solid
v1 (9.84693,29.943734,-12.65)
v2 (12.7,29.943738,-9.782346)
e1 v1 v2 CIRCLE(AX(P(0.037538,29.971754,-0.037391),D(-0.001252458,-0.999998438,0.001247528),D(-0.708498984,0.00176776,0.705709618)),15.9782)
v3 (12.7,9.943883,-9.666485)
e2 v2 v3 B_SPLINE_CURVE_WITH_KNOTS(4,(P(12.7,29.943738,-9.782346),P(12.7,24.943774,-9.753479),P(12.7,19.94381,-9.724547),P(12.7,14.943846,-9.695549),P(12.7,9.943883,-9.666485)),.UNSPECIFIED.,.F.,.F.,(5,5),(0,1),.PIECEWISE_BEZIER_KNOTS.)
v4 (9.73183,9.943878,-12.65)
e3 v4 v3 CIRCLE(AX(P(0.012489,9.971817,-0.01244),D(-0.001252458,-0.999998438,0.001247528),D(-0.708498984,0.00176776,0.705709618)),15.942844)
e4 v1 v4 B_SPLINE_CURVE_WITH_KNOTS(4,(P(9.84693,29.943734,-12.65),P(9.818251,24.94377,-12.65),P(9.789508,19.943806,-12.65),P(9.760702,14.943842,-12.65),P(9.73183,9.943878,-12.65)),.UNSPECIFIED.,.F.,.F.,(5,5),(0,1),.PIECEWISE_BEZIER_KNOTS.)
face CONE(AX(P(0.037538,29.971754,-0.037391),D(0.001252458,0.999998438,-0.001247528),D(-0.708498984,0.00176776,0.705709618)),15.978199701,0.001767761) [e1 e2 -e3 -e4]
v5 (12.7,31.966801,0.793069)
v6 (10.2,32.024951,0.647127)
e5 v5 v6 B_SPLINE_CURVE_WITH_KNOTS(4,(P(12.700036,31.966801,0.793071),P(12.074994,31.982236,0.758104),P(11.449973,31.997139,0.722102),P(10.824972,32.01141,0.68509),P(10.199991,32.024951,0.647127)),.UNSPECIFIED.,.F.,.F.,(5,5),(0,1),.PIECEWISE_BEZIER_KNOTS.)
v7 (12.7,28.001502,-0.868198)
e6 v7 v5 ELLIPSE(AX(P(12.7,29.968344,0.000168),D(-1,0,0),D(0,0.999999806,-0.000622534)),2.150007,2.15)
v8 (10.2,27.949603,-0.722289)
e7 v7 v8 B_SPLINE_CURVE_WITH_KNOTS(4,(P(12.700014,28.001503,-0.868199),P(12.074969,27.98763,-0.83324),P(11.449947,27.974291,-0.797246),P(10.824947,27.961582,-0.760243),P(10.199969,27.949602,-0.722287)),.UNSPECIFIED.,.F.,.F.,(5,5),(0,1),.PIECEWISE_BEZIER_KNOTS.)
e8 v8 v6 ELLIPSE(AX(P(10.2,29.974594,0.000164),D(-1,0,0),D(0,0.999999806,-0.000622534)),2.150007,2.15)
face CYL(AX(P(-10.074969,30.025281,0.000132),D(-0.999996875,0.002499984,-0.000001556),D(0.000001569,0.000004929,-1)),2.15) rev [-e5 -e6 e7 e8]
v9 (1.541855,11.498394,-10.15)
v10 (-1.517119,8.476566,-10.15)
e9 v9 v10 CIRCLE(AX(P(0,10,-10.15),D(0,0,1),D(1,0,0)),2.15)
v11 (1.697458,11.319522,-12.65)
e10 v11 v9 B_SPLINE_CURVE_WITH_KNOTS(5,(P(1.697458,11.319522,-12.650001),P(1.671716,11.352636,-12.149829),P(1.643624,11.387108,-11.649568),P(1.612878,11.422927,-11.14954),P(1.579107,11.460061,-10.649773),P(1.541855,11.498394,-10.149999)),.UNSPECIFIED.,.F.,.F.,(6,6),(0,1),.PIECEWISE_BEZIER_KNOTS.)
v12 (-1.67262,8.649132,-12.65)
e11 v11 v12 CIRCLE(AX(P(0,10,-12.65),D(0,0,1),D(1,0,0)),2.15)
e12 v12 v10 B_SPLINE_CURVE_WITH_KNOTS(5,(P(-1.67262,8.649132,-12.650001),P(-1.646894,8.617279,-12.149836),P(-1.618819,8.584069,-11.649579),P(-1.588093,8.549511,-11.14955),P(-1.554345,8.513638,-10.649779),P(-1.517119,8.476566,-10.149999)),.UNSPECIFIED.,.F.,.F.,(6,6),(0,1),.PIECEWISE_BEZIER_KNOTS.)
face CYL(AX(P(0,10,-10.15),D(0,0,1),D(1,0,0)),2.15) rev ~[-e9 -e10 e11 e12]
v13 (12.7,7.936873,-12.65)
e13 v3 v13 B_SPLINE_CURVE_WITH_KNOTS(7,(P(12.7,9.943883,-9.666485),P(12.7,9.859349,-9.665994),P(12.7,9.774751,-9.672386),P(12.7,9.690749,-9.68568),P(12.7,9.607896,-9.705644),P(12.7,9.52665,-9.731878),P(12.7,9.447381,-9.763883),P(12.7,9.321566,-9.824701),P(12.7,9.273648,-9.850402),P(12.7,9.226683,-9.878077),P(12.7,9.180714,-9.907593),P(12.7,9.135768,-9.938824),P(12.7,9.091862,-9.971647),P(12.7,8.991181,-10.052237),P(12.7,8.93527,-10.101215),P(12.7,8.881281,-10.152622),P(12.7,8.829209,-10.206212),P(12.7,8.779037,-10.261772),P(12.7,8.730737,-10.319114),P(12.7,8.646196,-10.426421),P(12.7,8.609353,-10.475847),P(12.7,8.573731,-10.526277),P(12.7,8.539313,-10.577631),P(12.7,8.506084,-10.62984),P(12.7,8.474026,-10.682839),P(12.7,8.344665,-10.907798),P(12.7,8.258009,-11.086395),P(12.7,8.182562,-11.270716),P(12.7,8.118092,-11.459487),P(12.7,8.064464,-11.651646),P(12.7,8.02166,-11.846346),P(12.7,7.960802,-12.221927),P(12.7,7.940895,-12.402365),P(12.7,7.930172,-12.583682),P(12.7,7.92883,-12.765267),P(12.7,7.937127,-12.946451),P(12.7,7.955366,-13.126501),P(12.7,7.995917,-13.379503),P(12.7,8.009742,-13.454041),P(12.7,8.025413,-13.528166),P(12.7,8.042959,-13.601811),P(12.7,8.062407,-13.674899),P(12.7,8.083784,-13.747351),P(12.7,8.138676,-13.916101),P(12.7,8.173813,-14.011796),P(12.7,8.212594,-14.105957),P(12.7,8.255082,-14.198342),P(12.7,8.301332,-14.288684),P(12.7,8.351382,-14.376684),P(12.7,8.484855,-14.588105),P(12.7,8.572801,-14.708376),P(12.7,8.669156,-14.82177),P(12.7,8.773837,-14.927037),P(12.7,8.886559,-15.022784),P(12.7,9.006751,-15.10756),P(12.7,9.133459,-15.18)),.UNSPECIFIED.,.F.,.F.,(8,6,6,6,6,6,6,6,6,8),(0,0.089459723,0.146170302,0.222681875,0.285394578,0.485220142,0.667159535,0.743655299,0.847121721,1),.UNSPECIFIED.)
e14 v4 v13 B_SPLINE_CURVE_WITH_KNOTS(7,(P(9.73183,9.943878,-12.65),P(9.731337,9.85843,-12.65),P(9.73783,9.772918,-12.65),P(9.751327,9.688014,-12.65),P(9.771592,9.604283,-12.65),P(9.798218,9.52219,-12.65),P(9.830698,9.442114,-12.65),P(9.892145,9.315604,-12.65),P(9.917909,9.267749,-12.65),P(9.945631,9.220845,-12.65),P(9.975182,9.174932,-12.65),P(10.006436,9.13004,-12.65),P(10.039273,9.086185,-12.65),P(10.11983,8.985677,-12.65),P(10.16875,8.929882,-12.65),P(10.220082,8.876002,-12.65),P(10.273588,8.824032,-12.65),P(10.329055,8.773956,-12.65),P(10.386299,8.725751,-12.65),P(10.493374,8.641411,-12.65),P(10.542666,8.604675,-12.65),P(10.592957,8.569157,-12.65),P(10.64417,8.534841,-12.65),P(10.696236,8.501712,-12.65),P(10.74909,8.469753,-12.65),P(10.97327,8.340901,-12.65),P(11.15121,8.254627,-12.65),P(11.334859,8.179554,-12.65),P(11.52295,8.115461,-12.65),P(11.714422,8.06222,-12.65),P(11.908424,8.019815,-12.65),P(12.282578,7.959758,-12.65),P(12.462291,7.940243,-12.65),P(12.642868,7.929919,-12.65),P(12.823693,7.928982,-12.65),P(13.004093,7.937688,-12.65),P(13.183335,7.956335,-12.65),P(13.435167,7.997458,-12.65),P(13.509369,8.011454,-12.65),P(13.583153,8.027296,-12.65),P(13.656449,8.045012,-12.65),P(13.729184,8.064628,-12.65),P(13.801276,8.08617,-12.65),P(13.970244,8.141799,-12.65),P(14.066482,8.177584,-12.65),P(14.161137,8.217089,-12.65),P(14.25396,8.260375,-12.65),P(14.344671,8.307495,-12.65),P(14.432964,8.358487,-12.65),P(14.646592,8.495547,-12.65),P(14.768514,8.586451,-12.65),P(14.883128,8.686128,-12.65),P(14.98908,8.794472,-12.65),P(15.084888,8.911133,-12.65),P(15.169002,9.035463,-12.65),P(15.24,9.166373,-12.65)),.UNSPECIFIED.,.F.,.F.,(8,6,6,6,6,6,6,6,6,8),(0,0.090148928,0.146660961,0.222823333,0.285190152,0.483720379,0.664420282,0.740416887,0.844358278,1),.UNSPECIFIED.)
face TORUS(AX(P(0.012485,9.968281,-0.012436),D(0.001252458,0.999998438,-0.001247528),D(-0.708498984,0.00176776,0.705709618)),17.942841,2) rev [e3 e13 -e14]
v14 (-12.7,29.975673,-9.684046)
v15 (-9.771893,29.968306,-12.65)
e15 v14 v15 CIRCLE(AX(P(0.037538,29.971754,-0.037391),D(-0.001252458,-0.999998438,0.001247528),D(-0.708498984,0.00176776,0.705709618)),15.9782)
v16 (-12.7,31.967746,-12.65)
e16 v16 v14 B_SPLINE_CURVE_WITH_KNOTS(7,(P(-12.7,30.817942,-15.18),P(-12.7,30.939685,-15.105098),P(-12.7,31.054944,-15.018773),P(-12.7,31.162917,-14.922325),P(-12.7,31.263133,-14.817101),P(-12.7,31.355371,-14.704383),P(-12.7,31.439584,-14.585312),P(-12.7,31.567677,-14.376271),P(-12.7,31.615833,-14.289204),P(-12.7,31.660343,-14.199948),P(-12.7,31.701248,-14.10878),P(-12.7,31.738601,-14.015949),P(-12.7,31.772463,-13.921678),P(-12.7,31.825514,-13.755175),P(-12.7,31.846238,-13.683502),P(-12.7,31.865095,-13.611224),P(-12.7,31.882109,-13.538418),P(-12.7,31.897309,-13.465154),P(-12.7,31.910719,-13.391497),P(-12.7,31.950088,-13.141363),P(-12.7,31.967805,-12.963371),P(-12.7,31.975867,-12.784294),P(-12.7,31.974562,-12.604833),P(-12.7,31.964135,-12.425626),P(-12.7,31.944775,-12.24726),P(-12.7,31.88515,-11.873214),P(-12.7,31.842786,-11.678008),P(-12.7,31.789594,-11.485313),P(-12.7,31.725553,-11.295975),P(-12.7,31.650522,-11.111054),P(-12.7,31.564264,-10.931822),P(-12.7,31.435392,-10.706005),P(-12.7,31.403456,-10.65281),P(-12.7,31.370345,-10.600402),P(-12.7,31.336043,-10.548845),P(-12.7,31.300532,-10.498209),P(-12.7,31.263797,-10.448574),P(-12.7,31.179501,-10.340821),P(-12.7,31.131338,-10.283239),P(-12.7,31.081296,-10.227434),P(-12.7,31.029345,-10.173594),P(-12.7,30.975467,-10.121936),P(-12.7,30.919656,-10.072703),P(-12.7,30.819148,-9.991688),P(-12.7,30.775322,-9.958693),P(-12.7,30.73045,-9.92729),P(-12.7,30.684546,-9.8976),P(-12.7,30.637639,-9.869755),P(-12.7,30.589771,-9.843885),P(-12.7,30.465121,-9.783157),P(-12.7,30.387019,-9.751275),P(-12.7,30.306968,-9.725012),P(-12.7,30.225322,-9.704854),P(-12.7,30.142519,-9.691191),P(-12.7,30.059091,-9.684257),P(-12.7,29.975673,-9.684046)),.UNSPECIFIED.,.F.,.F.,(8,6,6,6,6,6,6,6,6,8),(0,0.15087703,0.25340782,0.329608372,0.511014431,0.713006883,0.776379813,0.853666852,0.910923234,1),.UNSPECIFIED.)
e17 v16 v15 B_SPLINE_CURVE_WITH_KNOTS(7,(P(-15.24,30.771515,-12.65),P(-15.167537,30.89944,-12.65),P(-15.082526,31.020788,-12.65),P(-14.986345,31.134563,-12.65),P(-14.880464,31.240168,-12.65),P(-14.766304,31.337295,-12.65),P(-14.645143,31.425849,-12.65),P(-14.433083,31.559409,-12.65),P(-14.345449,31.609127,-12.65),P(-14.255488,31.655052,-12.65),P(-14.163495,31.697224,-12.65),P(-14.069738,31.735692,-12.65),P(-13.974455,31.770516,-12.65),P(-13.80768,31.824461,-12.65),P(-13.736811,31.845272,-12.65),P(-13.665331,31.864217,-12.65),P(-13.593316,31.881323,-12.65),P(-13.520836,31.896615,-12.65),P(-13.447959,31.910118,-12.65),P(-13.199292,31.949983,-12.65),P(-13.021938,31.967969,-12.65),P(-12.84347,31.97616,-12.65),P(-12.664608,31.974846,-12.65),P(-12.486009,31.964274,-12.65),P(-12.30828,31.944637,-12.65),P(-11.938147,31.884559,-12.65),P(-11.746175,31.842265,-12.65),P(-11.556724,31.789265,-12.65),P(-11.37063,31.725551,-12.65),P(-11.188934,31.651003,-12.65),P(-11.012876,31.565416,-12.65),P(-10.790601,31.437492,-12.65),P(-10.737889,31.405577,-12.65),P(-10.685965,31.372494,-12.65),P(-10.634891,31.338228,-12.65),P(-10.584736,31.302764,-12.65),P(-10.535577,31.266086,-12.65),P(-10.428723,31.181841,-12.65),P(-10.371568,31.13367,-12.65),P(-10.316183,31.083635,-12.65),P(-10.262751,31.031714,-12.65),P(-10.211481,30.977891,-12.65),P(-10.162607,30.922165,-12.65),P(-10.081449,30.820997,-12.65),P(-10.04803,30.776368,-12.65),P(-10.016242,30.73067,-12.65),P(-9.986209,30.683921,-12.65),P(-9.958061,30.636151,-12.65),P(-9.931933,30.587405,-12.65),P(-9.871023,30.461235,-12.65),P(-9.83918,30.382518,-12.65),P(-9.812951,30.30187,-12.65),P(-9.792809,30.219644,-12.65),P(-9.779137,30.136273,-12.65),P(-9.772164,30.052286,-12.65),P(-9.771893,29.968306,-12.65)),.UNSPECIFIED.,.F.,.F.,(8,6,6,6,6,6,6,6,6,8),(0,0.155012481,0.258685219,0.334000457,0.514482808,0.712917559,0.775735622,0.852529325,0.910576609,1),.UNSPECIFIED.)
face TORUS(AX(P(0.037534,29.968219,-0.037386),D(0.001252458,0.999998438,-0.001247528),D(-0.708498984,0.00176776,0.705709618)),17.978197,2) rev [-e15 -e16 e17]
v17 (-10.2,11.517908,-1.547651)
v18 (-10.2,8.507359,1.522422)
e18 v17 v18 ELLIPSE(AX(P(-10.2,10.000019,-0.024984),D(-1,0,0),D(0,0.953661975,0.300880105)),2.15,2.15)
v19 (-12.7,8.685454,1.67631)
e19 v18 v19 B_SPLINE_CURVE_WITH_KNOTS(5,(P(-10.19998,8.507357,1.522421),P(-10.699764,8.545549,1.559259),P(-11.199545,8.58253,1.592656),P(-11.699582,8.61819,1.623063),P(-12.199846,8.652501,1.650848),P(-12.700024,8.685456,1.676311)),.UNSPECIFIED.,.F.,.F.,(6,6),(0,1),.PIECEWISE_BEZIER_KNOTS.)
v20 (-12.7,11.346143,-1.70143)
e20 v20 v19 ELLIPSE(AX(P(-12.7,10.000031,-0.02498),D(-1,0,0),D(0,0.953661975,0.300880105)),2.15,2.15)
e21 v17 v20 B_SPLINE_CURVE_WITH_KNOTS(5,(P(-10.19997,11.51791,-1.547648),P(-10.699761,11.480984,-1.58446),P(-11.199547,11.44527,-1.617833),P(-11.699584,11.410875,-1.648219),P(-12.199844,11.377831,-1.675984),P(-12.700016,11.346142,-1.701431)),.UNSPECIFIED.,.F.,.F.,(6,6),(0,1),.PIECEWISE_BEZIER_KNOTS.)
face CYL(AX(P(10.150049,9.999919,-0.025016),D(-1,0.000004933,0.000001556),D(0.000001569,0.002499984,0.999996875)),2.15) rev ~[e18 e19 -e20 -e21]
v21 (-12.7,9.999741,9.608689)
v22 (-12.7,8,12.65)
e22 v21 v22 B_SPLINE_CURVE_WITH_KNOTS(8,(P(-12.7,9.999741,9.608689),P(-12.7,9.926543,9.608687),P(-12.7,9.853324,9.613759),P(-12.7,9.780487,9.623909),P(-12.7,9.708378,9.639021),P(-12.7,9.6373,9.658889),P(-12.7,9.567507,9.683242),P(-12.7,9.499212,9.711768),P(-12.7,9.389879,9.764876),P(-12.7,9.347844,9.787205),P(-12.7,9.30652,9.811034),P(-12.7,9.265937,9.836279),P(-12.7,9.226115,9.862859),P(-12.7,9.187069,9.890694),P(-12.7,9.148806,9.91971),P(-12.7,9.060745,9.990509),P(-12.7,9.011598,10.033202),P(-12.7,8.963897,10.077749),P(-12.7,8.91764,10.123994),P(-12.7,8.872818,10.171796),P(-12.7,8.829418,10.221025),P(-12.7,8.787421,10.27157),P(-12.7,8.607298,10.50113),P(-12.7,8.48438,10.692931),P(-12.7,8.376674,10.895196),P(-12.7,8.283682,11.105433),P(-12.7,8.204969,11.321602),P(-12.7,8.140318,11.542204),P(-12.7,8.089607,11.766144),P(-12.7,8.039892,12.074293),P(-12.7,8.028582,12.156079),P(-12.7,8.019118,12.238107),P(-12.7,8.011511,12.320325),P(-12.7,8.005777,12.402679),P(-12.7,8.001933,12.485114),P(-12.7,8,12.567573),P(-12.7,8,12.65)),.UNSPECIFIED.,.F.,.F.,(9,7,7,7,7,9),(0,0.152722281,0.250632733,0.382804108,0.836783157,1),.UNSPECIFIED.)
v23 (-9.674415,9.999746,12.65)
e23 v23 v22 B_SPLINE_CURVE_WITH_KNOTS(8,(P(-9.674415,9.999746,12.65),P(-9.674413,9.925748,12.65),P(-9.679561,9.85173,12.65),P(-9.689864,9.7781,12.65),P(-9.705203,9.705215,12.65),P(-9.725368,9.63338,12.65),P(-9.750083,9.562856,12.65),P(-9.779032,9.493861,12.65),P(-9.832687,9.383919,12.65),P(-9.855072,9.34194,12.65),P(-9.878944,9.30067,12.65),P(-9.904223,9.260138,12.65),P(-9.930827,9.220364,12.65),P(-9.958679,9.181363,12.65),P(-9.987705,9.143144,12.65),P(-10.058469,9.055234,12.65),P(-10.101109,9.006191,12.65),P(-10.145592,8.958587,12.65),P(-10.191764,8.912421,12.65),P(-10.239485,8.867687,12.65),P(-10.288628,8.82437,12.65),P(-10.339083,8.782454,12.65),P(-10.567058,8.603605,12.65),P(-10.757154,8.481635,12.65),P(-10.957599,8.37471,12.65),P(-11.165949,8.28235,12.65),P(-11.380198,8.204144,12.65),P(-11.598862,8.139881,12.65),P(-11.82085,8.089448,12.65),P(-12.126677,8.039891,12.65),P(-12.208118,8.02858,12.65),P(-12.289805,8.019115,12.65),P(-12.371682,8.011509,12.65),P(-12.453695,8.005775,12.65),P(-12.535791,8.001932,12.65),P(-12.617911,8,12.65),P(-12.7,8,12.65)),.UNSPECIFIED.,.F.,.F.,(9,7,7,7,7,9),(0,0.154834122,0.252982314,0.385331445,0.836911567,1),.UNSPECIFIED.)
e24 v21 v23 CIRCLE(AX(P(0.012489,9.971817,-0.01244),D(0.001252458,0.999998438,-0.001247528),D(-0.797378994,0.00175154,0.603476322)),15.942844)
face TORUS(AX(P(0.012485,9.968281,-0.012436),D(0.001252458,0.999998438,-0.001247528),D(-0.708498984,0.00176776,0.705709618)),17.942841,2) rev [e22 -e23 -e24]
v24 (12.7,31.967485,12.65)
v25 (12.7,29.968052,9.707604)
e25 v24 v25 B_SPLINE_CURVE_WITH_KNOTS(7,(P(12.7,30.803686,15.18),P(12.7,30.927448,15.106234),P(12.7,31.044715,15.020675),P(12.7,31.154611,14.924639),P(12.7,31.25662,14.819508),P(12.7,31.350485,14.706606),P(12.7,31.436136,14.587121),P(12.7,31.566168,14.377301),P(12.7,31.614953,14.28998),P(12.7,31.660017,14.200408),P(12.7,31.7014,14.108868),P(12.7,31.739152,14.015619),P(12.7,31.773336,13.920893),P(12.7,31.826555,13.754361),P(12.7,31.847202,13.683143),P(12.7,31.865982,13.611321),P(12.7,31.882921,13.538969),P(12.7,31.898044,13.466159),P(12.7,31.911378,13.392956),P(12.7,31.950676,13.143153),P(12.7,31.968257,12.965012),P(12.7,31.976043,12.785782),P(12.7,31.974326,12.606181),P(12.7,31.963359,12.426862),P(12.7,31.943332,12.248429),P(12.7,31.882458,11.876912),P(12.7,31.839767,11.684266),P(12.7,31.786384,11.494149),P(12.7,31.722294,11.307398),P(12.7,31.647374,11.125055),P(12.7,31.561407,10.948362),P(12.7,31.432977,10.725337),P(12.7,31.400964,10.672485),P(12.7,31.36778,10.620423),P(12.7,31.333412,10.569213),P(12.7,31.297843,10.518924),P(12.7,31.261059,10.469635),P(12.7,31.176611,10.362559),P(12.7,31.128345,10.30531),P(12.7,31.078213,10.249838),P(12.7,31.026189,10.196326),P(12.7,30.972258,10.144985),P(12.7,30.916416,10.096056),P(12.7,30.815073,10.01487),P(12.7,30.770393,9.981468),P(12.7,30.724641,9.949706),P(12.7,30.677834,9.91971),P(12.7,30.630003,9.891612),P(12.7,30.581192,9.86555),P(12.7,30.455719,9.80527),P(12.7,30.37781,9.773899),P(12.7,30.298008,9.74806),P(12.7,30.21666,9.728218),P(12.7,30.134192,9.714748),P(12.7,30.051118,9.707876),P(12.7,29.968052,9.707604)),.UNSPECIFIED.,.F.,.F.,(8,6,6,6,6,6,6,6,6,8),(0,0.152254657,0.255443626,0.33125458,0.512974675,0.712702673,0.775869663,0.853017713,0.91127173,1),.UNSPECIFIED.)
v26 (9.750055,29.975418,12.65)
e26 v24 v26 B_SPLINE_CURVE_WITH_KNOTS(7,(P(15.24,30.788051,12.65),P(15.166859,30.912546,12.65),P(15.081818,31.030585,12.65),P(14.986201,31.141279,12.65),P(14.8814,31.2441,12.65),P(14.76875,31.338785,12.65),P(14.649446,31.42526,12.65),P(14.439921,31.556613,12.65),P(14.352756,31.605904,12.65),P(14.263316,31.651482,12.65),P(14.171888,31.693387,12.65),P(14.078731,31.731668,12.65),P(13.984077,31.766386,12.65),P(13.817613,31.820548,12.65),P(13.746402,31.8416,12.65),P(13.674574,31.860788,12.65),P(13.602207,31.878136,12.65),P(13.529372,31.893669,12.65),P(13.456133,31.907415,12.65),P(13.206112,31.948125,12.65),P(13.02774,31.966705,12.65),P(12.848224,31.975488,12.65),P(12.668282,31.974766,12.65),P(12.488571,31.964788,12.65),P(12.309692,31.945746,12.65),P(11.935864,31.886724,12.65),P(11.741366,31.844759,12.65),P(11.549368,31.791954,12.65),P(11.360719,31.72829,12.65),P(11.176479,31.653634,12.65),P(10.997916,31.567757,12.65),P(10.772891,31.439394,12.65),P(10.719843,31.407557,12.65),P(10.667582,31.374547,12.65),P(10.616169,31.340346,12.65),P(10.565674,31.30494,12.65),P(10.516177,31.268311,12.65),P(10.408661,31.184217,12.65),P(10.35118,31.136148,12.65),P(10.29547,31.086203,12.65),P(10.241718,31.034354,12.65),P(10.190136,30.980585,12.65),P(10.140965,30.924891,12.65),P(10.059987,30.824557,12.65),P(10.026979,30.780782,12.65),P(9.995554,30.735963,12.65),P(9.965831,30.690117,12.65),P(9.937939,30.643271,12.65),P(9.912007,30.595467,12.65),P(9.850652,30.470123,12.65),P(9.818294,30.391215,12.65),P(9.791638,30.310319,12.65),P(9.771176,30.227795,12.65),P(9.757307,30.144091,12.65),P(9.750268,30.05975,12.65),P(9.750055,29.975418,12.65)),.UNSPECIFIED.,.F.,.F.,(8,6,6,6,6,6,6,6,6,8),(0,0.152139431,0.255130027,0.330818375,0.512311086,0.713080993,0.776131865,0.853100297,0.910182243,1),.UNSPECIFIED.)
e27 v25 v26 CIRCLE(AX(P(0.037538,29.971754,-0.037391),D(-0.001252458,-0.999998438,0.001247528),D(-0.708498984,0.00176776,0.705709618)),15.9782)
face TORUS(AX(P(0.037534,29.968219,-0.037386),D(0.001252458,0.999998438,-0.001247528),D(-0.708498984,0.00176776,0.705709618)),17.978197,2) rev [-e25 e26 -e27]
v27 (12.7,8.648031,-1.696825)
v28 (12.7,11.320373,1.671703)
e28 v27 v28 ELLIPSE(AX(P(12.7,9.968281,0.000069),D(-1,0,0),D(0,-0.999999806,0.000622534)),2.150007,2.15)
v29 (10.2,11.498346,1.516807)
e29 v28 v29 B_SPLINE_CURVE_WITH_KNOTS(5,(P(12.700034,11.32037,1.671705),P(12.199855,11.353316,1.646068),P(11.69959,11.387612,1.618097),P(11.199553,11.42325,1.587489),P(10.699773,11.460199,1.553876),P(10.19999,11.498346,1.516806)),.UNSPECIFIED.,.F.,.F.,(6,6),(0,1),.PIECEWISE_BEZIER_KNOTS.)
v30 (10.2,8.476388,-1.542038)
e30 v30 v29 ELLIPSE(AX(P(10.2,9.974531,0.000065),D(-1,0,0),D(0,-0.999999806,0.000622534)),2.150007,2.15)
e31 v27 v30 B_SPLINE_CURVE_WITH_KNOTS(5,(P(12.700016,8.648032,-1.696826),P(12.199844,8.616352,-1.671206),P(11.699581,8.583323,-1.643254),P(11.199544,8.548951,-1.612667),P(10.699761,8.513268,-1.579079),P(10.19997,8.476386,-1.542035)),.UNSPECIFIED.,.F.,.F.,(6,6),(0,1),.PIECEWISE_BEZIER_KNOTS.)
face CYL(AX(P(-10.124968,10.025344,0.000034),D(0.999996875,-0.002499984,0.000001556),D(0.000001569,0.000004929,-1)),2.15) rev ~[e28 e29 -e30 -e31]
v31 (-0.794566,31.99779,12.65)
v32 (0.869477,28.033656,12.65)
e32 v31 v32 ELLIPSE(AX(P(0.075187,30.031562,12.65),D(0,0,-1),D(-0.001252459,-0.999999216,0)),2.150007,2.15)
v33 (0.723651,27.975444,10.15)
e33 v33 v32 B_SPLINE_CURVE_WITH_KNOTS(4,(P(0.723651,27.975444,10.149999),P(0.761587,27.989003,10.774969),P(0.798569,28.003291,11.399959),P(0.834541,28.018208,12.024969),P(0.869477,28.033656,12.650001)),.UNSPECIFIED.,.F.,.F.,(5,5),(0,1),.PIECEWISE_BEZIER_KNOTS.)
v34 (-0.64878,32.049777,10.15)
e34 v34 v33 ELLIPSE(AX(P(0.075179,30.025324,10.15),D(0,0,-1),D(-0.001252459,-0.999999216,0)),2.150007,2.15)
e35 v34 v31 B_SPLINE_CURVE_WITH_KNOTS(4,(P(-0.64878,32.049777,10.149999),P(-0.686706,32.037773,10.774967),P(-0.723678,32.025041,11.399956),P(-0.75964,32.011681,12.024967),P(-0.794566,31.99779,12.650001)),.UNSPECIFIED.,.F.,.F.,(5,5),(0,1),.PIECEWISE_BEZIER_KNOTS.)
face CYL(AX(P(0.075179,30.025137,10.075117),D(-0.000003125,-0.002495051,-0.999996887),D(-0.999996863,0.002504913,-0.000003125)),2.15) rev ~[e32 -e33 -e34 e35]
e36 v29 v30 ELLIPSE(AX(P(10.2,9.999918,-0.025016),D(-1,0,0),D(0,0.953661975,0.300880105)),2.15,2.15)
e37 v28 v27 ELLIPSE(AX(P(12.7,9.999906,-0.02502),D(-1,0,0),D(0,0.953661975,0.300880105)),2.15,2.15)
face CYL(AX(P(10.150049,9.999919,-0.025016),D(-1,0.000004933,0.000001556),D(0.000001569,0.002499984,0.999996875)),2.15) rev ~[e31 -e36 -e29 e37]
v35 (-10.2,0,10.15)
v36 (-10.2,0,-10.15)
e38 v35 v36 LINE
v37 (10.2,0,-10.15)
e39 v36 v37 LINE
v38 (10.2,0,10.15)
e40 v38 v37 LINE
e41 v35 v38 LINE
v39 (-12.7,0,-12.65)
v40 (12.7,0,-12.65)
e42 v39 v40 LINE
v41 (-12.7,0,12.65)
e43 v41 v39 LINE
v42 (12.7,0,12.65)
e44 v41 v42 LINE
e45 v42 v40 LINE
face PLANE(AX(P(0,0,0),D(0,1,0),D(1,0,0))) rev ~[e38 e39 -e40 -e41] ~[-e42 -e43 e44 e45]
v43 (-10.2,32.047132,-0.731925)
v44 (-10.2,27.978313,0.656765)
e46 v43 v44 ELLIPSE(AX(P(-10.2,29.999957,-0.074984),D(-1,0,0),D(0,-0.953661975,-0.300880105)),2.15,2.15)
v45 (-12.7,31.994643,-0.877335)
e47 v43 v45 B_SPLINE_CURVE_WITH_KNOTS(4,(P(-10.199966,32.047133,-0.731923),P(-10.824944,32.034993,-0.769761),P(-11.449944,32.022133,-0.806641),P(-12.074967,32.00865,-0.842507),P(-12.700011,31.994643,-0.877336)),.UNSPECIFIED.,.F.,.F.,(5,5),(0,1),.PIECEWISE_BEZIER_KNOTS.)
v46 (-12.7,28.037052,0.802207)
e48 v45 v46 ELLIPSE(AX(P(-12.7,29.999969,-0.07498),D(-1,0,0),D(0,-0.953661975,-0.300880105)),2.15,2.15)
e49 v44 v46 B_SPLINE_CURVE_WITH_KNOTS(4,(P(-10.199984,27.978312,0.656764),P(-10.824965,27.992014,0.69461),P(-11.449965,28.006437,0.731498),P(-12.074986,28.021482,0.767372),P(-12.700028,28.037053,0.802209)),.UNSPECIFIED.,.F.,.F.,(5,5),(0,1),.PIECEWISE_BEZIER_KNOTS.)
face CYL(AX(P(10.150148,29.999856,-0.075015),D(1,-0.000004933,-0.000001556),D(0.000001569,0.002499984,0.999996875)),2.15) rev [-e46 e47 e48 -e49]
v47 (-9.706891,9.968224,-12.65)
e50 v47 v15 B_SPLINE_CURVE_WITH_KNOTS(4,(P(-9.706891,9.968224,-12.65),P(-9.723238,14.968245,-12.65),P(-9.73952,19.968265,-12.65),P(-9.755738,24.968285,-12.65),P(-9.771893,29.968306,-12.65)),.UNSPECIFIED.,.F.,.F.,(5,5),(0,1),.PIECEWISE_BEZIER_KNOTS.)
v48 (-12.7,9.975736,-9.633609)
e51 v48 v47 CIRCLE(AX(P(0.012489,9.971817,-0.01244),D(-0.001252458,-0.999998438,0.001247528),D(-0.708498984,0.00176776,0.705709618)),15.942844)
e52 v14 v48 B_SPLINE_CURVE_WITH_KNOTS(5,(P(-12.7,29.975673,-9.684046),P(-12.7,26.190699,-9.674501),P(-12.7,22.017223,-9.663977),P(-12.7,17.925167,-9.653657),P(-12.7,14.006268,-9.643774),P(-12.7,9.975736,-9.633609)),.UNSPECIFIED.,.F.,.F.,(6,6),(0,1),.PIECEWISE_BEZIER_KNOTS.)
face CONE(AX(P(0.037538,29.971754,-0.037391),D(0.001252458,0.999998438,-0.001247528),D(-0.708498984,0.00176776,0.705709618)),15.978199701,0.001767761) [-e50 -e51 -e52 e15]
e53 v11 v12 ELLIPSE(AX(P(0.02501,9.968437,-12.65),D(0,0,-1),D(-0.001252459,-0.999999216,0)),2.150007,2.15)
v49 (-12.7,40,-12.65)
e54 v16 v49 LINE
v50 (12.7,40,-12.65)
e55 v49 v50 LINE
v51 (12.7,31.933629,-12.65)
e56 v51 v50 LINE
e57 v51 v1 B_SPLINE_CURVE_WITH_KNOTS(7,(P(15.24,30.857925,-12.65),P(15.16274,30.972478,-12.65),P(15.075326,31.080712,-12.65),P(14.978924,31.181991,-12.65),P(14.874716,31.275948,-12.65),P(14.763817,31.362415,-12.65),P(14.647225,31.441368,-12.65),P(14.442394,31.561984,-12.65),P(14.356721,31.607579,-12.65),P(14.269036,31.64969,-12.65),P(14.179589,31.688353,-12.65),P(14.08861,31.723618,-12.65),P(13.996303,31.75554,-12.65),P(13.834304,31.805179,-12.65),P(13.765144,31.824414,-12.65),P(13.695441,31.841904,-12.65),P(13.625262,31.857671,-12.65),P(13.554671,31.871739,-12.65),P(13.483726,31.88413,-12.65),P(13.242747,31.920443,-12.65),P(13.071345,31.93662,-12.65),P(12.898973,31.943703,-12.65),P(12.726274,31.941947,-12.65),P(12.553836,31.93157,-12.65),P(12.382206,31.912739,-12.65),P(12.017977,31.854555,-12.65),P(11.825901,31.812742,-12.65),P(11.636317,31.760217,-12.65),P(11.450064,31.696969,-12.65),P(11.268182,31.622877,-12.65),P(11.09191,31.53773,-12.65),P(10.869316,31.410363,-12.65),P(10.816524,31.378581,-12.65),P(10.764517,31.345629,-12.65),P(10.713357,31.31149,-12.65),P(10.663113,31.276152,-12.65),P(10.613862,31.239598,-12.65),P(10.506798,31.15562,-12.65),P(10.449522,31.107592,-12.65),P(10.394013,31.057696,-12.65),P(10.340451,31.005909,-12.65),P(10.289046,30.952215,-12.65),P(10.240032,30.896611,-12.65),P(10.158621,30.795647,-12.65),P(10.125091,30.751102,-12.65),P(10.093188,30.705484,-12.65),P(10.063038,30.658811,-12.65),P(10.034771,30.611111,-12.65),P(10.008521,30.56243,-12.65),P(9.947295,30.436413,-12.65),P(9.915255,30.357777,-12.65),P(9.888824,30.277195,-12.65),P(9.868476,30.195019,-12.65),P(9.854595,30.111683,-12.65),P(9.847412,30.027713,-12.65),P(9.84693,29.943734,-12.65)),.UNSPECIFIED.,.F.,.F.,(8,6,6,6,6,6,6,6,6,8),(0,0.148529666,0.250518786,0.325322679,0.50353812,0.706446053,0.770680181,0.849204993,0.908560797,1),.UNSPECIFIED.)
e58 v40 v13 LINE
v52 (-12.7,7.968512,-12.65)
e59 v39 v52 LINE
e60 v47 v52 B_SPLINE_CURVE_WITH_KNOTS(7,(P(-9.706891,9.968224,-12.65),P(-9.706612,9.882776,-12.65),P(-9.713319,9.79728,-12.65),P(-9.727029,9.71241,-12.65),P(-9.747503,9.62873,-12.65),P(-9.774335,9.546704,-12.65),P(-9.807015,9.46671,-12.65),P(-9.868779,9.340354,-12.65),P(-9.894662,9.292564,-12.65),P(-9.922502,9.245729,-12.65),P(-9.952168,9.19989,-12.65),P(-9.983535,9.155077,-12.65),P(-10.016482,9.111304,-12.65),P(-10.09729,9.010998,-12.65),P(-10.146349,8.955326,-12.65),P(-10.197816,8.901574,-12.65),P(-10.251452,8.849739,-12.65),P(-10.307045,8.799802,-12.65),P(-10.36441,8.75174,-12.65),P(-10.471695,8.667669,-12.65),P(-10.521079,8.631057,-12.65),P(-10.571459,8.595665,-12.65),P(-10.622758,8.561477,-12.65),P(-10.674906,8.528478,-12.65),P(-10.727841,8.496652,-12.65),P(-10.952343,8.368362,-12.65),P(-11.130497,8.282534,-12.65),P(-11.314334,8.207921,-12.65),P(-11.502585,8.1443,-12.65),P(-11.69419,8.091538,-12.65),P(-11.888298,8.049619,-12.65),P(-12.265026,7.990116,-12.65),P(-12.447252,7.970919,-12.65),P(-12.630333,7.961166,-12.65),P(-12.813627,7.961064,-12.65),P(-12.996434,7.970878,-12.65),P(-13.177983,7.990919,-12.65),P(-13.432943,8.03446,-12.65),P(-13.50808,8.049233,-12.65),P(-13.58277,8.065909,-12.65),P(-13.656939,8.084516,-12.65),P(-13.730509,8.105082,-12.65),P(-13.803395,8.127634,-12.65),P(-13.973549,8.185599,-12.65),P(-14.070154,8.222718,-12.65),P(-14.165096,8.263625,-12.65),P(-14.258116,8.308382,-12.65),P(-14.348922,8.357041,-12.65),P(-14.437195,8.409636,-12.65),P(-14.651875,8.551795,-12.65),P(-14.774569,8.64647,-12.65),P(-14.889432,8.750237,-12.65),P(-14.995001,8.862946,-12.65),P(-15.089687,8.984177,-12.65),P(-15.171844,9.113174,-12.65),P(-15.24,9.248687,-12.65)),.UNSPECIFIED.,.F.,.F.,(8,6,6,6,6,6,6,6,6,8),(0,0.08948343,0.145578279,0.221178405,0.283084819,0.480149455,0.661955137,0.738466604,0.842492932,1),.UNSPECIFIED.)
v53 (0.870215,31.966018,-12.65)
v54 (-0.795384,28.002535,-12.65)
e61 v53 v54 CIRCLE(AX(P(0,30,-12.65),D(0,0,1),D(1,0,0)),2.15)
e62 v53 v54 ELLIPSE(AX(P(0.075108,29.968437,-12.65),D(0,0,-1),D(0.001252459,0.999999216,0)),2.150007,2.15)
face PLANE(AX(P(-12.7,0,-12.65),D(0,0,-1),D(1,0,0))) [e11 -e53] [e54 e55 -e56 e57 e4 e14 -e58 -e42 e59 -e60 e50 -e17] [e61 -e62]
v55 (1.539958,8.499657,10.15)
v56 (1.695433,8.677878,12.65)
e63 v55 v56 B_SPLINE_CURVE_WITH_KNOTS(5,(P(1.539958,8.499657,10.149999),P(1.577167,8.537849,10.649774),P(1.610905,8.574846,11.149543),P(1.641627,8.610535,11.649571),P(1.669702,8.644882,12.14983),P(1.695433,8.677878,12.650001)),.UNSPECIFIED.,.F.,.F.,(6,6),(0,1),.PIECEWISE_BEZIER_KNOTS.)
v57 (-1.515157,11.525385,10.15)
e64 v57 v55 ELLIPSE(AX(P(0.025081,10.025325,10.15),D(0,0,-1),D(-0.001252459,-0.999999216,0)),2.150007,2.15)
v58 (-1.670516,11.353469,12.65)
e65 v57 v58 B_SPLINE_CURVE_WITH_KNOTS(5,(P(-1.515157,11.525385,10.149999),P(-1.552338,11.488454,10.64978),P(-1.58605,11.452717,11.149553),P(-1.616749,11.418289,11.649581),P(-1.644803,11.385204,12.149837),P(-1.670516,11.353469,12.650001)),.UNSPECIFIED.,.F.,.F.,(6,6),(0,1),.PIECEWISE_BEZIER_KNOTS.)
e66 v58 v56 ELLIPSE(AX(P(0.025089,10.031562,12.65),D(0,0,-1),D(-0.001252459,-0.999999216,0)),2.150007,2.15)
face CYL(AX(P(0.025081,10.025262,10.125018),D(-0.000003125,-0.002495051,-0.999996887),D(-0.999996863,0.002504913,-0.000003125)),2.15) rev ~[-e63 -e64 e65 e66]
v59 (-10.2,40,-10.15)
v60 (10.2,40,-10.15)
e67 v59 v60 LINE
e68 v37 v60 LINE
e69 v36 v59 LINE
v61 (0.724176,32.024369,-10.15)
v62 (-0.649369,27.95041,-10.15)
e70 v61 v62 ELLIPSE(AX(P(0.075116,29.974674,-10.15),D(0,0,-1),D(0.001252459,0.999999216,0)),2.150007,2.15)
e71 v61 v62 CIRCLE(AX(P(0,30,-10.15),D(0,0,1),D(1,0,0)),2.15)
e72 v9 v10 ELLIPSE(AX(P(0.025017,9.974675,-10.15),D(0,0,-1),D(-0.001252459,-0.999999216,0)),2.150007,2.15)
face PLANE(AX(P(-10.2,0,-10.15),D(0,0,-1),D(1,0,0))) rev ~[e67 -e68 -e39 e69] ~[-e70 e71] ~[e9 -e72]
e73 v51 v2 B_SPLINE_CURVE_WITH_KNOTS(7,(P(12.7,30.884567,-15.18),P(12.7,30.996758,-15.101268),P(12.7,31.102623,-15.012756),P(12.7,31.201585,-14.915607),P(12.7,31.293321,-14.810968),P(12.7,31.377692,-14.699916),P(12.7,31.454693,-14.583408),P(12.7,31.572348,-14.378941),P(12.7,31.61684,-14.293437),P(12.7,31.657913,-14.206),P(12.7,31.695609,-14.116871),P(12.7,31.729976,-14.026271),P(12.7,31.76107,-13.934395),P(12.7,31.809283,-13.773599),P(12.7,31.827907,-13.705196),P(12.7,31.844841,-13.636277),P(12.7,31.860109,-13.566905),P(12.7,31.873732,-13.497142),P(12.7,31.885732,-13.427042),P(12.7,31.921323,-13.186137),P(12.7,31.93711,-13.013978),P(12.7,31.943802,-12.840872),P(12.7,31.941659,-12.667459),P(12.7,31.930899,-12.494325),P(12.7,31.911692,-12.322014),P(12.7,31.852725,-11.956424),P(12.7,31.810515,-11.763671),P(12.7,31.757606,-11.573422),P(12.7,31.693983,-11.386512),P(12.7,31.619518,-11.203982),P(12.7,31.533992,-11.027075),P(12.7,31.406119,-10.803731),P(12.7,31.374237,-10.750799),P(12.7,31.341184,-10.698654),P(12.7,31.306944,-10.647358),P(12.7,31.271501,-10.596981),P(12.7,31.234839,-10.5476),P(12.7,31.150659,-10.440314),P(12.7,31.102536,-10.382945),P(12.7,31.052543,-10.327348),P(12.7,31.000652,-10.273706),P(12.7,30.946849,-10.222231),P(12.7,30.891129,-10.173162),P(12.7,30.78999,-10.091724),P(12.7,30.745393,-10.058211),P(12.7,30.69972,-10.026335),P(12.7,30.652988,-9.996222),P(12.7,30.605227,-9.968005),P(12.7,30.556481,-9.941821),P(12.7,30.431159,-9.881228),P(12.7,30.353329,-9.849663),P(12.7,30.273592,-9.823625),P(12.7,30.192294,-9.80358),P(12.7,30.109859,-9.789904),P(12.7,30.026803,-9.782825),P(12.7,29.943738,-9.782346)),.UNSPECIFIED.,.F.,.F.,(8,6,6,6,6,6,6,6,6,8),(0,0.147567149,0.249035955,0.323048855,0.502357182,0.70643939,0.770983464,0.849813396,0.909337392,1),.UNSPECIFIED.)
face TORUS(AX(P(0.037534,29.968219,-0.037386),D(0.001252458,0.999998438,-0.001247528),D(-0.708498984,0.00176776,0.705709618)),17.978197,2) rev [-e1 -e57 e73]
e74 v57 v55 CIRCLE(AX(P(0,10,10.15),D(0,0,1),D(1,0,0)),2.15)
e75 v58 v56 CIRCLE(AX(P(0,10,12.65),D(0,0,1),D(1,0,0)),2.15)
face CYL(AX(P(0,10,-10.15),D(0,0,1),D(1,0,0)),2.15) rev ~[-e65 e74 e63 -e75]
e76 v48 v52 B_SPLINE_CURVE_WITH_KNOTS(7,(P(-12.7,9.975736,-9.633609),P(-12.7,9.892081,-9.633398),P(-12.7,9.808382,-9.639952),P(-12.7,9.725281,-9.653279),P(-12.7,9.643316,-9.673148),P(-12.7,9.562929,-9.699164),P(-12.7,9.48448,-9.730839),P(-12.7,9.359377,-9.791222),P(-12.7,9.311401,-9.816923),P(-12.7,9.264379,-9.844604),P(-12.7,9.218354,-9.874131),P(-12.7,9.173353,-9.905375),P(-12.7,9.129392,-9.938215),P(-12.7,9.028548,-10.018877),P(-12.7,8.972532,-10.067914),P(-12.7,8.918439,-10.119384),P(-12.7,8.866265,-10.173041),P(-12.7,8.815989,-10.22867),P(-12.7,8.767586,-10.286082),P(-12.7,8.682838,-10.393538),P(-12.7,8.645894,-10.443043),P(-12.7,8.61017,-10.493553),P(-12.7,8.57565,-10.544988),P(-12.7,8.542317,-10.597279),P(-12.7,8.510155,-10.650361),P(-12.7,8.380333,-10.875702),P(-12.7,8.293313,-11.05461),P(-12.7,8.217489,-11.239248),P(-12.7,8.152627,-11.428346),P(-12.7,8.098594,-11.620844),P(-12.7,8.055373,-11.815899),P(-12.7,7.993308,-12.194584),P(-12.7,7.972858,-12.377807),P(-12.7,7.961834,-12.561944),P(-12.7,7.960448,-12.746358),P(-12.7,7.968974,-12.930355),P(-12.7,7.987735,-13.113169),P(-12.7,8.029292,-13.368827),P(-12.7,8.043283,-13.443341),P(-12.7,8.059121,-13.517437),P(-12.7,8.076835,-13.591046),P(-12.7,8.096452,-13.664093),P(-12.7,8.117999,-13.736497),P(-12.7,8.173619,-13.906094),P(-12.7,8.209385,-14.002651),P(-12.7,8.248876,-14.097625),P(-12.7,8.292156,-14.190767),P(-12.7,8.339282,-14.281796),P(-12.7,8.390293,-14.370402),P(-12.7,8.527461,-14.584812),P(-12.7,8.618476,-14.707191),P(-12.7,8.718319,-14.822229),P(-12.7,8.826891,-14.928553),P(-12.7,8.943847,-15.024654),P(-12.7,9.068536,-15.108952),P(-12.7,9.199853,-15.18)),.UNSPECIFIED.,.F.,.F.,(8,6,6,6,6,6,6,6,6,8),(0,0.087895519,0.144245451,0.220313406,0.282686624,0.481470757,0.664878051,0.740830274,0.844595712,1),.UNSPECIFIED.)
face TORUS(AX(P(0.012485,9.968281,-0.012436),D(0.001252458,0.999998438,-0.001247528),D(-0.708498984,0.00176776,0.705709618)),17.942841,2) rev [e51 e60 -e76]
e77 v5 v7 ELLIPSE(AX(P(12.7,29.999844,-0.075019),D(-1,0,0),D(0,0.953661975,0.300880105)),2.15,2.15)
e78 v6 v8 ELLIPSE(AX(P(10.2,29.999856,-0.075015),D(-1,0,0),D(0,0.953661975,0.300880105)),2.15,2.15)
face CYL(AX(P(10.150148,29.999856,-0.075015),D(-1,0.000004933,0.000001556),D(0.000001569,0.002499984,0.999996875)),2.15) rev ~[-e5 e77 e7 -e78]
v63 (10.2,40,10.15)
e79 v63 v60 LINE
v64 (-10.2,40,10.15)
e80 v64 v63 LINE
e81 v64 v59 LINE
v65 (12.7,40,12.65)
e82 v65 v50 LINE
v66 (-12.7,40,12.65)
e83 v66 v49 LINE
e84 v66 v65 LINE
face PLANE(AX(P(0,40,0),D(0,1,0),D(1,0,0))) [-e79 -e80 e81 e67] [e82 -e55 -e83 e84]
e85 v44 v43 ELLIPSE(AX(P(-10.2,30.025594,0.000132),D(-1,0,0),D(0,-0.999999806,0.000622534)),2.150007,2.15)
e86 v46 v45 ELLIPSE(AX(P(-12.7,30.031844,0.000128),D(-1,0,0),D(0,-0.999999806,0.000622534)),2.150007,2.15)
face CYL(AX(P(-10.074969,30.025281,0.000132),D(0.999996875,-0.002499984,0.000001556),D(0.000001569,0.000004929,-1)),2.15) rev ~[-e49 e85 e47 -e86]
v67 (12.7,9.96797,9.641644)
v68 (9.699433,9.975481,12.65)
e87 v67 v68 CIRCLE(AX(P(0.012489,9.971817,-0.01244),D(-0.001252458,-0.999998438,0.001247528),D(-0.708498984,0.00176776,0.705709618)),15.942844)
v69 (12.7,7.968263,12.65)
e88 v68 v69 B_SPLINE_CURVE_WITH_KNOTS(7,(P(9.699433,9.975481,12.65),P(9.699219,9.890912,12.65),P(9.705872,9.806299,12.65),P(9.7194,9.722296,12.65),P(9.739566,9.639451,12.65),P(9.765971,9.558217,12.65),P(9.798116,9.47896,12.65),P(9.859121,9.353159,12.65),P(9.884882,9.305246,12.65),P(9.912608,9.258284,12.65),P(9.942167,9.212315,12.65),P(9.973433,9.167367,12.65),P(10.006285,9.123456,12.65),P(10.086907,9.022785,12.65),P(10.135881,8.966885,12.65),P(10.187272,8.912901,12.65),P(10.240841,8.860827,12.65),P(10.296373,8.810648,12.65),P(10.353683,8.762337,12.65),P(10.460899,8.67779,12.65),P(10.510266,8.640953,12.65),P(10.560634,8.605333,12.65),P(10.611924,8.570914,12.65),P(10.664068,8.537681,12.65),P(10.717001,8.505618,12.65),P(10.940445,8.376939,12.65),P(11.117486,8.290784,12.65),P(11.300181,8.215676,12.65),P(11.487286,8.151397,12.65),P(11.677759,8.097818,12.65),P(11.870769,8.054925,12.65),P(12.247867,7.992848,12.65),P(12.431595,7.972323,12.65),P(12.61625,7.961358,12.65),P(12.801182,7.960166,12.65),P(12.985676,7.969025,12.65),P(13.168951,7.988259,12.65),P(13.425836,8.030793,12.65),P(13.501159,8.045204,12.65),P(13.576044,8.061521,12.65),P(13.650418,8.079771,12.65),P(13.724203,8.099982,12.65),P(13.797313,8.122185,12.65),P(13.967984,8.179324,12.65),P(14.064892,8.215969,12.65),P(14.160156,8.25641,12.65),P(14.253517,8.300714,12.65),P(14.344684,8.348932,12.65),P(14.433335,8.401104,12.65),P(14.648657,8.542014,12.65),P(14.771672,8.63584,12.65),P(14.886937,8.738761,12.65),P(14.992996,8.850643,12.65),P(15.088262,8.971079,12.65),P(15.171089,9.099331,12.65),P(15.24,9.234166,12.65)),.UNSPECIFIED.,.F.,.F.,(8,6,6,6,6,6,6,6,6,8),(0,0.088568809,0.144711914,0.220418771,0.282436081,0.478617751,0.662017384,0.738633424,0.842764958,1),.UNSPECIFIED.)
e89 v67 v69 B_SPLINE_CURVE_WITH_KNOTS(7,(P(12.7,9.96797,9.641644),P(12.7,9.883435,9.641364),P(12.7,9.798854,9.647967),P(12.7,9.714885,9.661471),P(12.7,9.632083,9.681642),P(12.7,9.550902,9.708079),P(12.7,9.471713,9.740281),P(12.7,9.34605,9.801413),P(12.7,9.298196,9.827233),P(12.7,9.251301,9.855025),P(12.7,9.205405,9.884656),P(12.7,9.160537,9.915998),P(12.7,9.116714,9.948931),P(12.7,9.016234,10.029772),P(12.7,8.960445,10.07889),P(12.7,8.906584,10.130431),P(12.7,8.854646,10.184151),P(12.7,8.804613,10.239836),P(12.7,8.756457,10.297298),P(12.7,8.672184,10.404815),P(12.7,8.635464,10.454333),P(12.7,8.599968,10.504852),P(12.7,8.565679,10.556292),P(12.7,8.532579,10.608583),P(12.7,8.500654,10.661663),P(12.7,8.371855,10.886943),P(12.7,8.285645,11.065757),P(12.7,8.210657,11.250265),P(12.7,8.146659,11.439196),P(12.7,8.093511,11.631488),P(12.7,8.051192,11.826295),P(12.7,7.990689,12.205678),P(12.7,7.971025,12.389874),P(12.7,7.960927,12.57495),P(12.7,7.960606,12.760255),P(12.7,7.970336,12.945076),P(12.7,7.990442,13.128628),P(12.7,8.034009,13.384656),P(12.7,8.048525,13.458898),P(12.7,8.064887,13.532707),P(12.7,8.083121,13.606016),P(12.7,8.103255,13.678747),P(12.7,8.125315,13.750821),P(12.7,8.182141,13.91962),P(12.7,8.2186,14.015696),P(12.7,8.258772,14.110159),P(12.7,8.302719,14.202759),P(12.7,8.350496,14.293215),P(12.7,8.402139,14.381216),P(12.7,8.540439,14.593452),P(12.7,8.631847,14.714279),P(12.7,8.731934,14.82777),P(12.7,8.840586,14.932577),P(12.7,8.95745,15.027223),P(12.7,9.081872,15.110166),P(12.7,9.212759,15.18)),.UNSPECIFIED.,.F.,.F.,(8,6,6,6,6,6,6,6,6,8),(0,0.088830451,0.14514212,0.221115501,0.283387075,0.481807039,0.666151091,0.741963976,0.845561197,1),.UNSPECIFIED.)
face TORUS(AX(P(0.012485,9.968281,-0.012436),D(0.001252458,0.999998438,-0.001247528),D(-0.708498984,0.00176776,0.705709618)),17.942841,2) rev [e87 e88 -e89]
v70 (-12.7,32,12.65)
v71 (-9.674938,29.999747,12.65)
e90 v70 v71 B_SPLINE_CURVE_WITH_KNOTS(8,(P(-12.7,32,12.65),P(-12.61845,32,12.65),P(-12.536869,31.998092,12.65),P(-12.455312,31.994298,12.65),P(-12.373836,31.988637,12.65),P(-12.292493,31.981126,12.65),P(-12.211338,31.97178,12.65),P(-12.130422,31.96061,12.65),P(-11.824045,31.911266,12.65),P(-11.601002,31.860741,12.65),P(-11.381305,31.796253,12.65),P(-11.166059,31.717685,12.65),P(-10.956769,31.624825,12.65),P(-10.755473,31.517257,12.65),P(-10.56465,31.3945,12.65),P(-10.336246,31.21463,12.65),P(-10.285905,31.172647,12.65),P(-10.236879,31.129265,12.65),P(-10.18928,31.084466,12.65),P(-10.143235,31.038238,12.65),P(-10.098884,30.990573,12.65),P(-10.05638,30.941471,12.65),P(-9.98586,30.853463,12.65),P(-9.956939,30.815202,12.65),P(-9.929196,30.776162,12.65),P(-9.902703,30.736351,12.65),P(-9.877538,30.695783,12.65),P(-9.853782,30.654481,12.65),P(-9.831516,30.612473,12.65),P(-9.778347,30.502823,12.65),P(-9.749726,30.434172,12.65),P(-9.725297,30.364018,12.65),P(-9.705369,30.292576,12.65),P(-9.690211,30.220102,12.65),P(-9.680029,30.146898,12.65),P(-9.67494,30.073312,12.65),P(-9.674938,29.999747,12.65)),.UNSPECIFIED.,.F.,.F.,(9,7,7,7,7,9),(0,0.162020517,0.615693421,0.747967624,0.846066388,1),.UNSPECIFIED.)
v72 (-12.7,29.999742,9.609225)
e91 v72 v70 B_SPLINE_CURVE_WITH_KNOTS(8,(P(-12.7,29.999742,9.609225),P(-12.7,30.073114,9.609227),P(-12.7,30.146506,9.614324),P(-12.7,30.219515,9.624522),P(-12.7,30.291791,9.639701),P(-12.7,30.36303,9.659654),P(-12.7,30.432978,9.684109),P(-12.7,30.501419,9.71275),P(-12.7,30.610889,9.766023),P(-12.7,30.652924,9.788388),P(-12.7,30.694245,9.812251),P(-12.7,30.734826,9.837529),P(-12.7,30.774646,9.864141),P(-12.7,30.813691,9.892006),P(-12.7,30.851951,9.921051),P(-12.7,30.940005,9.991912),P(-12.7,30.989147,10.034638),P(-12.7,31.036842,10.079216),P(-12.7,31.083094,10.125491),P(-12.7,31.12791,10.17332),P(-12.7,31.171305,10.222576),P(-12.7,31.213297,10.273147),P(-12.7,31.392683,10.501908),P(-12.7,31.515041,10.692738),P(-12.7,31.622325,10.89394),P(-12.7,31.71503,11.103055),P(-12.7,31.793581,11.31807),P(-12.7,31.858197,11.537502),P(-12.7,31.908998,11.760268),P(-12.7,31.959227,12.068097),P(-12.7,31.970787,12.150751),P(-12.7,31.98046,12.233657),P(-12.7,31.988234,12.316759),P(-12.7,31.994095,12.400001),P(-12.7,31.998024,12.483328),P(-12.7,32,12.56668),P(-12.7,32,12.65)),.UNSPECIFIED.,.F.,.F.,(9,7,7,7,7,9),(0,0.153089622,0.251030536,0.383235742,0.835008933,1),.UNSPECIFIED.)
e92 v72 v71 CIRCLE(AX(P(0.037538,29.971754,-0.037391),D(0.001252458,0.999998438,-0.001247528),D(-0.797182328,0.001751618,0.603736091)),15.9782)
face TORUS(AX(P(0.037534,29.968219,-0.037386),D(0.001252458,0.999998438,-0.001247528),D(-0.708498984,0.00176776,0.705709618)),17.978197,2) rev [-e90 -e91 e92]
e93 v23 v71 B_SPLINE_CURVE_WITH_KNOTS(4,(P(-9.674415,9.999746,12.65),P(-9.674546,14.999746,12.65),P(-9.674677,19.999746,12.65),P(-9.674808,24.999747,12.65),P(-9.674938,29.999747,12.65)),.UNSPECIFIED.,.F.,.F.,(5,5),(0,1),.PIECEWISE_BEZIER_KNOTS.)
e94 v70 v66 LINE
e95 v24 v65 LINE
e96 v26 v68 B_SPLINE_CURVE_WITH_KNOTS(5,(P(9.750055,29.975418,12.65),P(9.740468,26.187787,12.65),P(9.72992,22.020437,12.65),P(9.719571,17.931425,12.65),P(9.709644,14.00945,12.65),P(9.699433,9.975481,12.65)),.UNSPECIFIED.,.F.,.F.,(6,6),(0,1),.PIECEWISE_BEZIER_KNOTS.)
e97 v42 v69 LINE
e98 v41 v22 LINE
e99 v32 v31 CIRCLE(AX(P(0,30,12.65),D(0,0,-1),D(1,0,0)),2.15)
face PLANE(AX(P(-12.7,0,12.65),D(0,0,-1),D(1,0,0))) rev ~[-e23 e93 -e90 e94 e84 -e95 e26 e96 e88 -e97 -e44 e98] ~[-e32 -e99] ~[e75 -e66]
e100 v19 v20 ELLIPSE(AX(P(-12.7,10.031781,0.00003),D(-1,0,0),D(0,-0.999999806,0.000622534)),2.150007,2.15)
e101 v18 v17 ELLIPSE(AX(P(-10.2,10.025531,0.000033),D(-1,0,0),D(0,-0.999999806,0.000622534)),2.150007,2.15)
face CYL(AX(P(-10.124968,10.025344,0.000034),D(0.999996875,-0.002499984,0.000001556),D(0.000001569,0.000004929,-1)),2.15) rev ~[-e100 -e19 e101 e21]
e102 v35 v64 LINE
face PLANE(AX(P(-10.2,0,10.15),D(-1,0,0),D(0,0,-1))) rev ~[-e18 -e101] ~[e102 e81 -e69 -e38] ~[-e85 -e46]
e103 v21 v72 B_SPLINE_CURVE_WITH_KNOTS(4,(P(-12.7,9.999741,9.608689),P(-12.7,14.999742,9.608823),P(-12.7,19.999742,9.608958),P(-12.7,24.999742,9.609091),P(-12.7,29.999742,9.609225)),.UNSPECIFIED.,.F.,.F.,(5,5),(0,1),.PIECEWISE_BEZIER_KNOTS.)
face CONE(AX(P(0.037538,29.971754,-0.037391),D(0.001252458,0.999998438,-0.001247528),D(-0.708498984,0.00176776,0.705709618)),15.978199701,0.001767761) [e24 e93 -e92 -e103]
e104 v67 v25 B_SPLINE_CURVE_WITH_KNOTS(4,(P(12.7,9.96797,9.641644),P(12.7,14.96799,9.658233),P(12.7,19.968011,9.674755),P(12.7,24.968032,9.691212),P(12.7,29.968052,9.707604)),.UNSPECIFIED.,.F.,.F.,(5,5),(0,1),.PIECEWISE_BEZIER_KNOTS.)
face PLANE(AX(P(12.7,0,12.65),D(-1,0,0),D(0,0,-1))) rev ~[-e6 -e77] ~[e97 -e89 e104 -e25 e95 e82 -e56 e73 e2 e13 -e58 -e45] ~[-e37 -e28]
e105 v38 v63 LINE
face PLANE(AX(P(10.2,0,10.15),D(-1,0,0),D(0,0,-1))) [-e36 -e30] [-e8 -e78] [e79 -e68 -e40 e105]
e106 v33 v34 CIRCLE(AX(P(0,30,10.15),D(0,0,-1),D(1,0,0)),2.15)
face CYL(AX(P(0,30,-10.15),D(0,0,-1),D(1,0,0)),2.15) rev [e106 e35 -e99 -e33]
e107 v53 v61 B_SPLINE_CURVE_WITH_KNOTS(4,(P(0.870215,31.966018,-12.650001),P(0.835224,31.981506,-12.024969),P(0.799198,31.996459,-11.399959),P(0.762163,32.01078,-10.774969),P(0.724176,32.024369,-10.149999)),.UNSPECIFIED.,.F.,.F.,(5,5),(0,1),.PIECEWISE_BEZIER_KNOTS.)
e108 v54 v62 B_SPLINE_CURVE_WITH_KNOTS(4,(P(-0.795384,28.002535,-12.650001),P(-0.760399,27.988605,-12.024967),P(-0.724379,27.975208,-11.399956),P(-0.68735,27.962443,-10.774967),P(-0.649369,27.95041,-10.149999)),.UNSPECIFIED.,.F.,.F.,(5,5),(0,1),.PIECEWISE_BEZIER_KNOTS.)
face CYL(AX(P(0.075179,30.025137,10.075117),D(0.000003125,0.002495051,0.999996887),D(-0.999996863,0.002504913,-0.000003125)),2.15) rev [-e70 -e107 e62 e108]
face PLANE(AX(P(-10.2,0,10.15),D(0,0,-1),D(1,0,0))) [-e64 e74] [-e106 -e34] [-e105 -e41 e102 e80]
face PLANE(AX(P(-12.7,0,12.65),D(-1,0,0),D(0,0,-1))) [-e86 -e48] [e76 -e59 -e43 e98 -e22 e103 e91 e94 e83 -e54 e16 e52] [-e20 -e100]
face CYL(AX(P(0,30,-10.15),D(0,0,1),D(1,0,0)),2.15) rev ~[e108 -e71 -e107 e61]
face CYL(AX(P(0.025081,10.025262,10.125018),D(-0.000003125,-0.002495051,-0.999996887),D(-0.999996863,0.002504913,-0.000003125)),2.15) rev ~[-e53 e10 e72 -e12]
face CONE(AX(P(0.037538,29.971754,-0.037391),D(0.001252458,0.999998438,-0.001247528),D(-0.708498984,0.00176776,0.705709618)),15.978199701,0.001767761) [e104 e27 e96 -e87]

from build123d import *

# Parameters (mm, degrees)
SKETCH1_W           = 25.4
SKETCH1_H           = 25.3
SKETCH1_W_2         = 20.4
SKETCH1_H_2         = 20.3
BOSS_EXTRUDE1_DEPTH = 40
SKETCH3_R           = 2.15
CUT_EXTRUDE1_DEPTH  = 40
CIRPATTERN1_COUNT   = 4


with BuildPart() as part:
    # Sketch1 → Boss-Extrude1 (new body)
    with BuildSketch(Plane(origin=(0, 0, 0), x_dir=(1, 0, 0), z_dir=(0, 1, 0))):
        Rectangle(SKETCH1_W, SKETCH1_H)
        Rectangle(SKETCH1_W_2, SKETCH1_H_2, mode=Mode.SUBTRACT)
    extrude(amount=BOSS_EXTRUDE1_DEPTH)

    # Sketch2 → Cut-Revolve1 (revolve, cut)
    with BuildSketch(Plane(origin=(0, 0, 0), x_dir=(0.7085000909771346, 0, -0.705710720540217), z_dir=(0.705710720540217, 0, 0.7085000909771346))):
        with BuildLine():
            Line((-19.92519177, 10), (-19.92519177, 30))
            ThreePointArc((-19.92519177, 30), (-17.92519177, 32), (-15.92519177, 30))
            Line((-15.92519177, 30), (-15.92519177, 10))
            ThreePointArc((-15.92519177, 10), (-17.92519177, 8), (-19.92519177, 10))
        make_face()
    revolve(axis=Axis((0.050098416, 40, -0.049901178), (-0.0012524584496105494, -0.9999984375102502, 0.0012475275108325553)), mode=Mode.SUBTRACT)

    # Sketch3 → Cut-Extrude1 (cut, symmetric)
    with BuildSketch(Plane.XY.offset(-10.15)):
        with Locations((0, 30)):
            Circle(SKETCH3_R)
        with Locations((0, 10)):
            Circle(SKETCH3_R)
    cut_extrude1 = extrude(amount=CUT_EXTRUDE1_DEPTH, both=True, mode=Mode.SUBTRACT)

    # CirPattern1: Cut-Extrude1 ×4 about axis
    cirpattern1_axis = Axis((0.050098416, 40, -0.049901178), (-0.0012524584496105494, -0.9999984375102502, 0.0012475275108325553))
    for i in range(1, CIRPATTERN1_COUNT):
        add(cut_extrude1.rotate(cirpattern1_axis, i * 360 / CIRPATTERN1_COUNT), mode=Mode.SUBTRACT)


solid = part.part
